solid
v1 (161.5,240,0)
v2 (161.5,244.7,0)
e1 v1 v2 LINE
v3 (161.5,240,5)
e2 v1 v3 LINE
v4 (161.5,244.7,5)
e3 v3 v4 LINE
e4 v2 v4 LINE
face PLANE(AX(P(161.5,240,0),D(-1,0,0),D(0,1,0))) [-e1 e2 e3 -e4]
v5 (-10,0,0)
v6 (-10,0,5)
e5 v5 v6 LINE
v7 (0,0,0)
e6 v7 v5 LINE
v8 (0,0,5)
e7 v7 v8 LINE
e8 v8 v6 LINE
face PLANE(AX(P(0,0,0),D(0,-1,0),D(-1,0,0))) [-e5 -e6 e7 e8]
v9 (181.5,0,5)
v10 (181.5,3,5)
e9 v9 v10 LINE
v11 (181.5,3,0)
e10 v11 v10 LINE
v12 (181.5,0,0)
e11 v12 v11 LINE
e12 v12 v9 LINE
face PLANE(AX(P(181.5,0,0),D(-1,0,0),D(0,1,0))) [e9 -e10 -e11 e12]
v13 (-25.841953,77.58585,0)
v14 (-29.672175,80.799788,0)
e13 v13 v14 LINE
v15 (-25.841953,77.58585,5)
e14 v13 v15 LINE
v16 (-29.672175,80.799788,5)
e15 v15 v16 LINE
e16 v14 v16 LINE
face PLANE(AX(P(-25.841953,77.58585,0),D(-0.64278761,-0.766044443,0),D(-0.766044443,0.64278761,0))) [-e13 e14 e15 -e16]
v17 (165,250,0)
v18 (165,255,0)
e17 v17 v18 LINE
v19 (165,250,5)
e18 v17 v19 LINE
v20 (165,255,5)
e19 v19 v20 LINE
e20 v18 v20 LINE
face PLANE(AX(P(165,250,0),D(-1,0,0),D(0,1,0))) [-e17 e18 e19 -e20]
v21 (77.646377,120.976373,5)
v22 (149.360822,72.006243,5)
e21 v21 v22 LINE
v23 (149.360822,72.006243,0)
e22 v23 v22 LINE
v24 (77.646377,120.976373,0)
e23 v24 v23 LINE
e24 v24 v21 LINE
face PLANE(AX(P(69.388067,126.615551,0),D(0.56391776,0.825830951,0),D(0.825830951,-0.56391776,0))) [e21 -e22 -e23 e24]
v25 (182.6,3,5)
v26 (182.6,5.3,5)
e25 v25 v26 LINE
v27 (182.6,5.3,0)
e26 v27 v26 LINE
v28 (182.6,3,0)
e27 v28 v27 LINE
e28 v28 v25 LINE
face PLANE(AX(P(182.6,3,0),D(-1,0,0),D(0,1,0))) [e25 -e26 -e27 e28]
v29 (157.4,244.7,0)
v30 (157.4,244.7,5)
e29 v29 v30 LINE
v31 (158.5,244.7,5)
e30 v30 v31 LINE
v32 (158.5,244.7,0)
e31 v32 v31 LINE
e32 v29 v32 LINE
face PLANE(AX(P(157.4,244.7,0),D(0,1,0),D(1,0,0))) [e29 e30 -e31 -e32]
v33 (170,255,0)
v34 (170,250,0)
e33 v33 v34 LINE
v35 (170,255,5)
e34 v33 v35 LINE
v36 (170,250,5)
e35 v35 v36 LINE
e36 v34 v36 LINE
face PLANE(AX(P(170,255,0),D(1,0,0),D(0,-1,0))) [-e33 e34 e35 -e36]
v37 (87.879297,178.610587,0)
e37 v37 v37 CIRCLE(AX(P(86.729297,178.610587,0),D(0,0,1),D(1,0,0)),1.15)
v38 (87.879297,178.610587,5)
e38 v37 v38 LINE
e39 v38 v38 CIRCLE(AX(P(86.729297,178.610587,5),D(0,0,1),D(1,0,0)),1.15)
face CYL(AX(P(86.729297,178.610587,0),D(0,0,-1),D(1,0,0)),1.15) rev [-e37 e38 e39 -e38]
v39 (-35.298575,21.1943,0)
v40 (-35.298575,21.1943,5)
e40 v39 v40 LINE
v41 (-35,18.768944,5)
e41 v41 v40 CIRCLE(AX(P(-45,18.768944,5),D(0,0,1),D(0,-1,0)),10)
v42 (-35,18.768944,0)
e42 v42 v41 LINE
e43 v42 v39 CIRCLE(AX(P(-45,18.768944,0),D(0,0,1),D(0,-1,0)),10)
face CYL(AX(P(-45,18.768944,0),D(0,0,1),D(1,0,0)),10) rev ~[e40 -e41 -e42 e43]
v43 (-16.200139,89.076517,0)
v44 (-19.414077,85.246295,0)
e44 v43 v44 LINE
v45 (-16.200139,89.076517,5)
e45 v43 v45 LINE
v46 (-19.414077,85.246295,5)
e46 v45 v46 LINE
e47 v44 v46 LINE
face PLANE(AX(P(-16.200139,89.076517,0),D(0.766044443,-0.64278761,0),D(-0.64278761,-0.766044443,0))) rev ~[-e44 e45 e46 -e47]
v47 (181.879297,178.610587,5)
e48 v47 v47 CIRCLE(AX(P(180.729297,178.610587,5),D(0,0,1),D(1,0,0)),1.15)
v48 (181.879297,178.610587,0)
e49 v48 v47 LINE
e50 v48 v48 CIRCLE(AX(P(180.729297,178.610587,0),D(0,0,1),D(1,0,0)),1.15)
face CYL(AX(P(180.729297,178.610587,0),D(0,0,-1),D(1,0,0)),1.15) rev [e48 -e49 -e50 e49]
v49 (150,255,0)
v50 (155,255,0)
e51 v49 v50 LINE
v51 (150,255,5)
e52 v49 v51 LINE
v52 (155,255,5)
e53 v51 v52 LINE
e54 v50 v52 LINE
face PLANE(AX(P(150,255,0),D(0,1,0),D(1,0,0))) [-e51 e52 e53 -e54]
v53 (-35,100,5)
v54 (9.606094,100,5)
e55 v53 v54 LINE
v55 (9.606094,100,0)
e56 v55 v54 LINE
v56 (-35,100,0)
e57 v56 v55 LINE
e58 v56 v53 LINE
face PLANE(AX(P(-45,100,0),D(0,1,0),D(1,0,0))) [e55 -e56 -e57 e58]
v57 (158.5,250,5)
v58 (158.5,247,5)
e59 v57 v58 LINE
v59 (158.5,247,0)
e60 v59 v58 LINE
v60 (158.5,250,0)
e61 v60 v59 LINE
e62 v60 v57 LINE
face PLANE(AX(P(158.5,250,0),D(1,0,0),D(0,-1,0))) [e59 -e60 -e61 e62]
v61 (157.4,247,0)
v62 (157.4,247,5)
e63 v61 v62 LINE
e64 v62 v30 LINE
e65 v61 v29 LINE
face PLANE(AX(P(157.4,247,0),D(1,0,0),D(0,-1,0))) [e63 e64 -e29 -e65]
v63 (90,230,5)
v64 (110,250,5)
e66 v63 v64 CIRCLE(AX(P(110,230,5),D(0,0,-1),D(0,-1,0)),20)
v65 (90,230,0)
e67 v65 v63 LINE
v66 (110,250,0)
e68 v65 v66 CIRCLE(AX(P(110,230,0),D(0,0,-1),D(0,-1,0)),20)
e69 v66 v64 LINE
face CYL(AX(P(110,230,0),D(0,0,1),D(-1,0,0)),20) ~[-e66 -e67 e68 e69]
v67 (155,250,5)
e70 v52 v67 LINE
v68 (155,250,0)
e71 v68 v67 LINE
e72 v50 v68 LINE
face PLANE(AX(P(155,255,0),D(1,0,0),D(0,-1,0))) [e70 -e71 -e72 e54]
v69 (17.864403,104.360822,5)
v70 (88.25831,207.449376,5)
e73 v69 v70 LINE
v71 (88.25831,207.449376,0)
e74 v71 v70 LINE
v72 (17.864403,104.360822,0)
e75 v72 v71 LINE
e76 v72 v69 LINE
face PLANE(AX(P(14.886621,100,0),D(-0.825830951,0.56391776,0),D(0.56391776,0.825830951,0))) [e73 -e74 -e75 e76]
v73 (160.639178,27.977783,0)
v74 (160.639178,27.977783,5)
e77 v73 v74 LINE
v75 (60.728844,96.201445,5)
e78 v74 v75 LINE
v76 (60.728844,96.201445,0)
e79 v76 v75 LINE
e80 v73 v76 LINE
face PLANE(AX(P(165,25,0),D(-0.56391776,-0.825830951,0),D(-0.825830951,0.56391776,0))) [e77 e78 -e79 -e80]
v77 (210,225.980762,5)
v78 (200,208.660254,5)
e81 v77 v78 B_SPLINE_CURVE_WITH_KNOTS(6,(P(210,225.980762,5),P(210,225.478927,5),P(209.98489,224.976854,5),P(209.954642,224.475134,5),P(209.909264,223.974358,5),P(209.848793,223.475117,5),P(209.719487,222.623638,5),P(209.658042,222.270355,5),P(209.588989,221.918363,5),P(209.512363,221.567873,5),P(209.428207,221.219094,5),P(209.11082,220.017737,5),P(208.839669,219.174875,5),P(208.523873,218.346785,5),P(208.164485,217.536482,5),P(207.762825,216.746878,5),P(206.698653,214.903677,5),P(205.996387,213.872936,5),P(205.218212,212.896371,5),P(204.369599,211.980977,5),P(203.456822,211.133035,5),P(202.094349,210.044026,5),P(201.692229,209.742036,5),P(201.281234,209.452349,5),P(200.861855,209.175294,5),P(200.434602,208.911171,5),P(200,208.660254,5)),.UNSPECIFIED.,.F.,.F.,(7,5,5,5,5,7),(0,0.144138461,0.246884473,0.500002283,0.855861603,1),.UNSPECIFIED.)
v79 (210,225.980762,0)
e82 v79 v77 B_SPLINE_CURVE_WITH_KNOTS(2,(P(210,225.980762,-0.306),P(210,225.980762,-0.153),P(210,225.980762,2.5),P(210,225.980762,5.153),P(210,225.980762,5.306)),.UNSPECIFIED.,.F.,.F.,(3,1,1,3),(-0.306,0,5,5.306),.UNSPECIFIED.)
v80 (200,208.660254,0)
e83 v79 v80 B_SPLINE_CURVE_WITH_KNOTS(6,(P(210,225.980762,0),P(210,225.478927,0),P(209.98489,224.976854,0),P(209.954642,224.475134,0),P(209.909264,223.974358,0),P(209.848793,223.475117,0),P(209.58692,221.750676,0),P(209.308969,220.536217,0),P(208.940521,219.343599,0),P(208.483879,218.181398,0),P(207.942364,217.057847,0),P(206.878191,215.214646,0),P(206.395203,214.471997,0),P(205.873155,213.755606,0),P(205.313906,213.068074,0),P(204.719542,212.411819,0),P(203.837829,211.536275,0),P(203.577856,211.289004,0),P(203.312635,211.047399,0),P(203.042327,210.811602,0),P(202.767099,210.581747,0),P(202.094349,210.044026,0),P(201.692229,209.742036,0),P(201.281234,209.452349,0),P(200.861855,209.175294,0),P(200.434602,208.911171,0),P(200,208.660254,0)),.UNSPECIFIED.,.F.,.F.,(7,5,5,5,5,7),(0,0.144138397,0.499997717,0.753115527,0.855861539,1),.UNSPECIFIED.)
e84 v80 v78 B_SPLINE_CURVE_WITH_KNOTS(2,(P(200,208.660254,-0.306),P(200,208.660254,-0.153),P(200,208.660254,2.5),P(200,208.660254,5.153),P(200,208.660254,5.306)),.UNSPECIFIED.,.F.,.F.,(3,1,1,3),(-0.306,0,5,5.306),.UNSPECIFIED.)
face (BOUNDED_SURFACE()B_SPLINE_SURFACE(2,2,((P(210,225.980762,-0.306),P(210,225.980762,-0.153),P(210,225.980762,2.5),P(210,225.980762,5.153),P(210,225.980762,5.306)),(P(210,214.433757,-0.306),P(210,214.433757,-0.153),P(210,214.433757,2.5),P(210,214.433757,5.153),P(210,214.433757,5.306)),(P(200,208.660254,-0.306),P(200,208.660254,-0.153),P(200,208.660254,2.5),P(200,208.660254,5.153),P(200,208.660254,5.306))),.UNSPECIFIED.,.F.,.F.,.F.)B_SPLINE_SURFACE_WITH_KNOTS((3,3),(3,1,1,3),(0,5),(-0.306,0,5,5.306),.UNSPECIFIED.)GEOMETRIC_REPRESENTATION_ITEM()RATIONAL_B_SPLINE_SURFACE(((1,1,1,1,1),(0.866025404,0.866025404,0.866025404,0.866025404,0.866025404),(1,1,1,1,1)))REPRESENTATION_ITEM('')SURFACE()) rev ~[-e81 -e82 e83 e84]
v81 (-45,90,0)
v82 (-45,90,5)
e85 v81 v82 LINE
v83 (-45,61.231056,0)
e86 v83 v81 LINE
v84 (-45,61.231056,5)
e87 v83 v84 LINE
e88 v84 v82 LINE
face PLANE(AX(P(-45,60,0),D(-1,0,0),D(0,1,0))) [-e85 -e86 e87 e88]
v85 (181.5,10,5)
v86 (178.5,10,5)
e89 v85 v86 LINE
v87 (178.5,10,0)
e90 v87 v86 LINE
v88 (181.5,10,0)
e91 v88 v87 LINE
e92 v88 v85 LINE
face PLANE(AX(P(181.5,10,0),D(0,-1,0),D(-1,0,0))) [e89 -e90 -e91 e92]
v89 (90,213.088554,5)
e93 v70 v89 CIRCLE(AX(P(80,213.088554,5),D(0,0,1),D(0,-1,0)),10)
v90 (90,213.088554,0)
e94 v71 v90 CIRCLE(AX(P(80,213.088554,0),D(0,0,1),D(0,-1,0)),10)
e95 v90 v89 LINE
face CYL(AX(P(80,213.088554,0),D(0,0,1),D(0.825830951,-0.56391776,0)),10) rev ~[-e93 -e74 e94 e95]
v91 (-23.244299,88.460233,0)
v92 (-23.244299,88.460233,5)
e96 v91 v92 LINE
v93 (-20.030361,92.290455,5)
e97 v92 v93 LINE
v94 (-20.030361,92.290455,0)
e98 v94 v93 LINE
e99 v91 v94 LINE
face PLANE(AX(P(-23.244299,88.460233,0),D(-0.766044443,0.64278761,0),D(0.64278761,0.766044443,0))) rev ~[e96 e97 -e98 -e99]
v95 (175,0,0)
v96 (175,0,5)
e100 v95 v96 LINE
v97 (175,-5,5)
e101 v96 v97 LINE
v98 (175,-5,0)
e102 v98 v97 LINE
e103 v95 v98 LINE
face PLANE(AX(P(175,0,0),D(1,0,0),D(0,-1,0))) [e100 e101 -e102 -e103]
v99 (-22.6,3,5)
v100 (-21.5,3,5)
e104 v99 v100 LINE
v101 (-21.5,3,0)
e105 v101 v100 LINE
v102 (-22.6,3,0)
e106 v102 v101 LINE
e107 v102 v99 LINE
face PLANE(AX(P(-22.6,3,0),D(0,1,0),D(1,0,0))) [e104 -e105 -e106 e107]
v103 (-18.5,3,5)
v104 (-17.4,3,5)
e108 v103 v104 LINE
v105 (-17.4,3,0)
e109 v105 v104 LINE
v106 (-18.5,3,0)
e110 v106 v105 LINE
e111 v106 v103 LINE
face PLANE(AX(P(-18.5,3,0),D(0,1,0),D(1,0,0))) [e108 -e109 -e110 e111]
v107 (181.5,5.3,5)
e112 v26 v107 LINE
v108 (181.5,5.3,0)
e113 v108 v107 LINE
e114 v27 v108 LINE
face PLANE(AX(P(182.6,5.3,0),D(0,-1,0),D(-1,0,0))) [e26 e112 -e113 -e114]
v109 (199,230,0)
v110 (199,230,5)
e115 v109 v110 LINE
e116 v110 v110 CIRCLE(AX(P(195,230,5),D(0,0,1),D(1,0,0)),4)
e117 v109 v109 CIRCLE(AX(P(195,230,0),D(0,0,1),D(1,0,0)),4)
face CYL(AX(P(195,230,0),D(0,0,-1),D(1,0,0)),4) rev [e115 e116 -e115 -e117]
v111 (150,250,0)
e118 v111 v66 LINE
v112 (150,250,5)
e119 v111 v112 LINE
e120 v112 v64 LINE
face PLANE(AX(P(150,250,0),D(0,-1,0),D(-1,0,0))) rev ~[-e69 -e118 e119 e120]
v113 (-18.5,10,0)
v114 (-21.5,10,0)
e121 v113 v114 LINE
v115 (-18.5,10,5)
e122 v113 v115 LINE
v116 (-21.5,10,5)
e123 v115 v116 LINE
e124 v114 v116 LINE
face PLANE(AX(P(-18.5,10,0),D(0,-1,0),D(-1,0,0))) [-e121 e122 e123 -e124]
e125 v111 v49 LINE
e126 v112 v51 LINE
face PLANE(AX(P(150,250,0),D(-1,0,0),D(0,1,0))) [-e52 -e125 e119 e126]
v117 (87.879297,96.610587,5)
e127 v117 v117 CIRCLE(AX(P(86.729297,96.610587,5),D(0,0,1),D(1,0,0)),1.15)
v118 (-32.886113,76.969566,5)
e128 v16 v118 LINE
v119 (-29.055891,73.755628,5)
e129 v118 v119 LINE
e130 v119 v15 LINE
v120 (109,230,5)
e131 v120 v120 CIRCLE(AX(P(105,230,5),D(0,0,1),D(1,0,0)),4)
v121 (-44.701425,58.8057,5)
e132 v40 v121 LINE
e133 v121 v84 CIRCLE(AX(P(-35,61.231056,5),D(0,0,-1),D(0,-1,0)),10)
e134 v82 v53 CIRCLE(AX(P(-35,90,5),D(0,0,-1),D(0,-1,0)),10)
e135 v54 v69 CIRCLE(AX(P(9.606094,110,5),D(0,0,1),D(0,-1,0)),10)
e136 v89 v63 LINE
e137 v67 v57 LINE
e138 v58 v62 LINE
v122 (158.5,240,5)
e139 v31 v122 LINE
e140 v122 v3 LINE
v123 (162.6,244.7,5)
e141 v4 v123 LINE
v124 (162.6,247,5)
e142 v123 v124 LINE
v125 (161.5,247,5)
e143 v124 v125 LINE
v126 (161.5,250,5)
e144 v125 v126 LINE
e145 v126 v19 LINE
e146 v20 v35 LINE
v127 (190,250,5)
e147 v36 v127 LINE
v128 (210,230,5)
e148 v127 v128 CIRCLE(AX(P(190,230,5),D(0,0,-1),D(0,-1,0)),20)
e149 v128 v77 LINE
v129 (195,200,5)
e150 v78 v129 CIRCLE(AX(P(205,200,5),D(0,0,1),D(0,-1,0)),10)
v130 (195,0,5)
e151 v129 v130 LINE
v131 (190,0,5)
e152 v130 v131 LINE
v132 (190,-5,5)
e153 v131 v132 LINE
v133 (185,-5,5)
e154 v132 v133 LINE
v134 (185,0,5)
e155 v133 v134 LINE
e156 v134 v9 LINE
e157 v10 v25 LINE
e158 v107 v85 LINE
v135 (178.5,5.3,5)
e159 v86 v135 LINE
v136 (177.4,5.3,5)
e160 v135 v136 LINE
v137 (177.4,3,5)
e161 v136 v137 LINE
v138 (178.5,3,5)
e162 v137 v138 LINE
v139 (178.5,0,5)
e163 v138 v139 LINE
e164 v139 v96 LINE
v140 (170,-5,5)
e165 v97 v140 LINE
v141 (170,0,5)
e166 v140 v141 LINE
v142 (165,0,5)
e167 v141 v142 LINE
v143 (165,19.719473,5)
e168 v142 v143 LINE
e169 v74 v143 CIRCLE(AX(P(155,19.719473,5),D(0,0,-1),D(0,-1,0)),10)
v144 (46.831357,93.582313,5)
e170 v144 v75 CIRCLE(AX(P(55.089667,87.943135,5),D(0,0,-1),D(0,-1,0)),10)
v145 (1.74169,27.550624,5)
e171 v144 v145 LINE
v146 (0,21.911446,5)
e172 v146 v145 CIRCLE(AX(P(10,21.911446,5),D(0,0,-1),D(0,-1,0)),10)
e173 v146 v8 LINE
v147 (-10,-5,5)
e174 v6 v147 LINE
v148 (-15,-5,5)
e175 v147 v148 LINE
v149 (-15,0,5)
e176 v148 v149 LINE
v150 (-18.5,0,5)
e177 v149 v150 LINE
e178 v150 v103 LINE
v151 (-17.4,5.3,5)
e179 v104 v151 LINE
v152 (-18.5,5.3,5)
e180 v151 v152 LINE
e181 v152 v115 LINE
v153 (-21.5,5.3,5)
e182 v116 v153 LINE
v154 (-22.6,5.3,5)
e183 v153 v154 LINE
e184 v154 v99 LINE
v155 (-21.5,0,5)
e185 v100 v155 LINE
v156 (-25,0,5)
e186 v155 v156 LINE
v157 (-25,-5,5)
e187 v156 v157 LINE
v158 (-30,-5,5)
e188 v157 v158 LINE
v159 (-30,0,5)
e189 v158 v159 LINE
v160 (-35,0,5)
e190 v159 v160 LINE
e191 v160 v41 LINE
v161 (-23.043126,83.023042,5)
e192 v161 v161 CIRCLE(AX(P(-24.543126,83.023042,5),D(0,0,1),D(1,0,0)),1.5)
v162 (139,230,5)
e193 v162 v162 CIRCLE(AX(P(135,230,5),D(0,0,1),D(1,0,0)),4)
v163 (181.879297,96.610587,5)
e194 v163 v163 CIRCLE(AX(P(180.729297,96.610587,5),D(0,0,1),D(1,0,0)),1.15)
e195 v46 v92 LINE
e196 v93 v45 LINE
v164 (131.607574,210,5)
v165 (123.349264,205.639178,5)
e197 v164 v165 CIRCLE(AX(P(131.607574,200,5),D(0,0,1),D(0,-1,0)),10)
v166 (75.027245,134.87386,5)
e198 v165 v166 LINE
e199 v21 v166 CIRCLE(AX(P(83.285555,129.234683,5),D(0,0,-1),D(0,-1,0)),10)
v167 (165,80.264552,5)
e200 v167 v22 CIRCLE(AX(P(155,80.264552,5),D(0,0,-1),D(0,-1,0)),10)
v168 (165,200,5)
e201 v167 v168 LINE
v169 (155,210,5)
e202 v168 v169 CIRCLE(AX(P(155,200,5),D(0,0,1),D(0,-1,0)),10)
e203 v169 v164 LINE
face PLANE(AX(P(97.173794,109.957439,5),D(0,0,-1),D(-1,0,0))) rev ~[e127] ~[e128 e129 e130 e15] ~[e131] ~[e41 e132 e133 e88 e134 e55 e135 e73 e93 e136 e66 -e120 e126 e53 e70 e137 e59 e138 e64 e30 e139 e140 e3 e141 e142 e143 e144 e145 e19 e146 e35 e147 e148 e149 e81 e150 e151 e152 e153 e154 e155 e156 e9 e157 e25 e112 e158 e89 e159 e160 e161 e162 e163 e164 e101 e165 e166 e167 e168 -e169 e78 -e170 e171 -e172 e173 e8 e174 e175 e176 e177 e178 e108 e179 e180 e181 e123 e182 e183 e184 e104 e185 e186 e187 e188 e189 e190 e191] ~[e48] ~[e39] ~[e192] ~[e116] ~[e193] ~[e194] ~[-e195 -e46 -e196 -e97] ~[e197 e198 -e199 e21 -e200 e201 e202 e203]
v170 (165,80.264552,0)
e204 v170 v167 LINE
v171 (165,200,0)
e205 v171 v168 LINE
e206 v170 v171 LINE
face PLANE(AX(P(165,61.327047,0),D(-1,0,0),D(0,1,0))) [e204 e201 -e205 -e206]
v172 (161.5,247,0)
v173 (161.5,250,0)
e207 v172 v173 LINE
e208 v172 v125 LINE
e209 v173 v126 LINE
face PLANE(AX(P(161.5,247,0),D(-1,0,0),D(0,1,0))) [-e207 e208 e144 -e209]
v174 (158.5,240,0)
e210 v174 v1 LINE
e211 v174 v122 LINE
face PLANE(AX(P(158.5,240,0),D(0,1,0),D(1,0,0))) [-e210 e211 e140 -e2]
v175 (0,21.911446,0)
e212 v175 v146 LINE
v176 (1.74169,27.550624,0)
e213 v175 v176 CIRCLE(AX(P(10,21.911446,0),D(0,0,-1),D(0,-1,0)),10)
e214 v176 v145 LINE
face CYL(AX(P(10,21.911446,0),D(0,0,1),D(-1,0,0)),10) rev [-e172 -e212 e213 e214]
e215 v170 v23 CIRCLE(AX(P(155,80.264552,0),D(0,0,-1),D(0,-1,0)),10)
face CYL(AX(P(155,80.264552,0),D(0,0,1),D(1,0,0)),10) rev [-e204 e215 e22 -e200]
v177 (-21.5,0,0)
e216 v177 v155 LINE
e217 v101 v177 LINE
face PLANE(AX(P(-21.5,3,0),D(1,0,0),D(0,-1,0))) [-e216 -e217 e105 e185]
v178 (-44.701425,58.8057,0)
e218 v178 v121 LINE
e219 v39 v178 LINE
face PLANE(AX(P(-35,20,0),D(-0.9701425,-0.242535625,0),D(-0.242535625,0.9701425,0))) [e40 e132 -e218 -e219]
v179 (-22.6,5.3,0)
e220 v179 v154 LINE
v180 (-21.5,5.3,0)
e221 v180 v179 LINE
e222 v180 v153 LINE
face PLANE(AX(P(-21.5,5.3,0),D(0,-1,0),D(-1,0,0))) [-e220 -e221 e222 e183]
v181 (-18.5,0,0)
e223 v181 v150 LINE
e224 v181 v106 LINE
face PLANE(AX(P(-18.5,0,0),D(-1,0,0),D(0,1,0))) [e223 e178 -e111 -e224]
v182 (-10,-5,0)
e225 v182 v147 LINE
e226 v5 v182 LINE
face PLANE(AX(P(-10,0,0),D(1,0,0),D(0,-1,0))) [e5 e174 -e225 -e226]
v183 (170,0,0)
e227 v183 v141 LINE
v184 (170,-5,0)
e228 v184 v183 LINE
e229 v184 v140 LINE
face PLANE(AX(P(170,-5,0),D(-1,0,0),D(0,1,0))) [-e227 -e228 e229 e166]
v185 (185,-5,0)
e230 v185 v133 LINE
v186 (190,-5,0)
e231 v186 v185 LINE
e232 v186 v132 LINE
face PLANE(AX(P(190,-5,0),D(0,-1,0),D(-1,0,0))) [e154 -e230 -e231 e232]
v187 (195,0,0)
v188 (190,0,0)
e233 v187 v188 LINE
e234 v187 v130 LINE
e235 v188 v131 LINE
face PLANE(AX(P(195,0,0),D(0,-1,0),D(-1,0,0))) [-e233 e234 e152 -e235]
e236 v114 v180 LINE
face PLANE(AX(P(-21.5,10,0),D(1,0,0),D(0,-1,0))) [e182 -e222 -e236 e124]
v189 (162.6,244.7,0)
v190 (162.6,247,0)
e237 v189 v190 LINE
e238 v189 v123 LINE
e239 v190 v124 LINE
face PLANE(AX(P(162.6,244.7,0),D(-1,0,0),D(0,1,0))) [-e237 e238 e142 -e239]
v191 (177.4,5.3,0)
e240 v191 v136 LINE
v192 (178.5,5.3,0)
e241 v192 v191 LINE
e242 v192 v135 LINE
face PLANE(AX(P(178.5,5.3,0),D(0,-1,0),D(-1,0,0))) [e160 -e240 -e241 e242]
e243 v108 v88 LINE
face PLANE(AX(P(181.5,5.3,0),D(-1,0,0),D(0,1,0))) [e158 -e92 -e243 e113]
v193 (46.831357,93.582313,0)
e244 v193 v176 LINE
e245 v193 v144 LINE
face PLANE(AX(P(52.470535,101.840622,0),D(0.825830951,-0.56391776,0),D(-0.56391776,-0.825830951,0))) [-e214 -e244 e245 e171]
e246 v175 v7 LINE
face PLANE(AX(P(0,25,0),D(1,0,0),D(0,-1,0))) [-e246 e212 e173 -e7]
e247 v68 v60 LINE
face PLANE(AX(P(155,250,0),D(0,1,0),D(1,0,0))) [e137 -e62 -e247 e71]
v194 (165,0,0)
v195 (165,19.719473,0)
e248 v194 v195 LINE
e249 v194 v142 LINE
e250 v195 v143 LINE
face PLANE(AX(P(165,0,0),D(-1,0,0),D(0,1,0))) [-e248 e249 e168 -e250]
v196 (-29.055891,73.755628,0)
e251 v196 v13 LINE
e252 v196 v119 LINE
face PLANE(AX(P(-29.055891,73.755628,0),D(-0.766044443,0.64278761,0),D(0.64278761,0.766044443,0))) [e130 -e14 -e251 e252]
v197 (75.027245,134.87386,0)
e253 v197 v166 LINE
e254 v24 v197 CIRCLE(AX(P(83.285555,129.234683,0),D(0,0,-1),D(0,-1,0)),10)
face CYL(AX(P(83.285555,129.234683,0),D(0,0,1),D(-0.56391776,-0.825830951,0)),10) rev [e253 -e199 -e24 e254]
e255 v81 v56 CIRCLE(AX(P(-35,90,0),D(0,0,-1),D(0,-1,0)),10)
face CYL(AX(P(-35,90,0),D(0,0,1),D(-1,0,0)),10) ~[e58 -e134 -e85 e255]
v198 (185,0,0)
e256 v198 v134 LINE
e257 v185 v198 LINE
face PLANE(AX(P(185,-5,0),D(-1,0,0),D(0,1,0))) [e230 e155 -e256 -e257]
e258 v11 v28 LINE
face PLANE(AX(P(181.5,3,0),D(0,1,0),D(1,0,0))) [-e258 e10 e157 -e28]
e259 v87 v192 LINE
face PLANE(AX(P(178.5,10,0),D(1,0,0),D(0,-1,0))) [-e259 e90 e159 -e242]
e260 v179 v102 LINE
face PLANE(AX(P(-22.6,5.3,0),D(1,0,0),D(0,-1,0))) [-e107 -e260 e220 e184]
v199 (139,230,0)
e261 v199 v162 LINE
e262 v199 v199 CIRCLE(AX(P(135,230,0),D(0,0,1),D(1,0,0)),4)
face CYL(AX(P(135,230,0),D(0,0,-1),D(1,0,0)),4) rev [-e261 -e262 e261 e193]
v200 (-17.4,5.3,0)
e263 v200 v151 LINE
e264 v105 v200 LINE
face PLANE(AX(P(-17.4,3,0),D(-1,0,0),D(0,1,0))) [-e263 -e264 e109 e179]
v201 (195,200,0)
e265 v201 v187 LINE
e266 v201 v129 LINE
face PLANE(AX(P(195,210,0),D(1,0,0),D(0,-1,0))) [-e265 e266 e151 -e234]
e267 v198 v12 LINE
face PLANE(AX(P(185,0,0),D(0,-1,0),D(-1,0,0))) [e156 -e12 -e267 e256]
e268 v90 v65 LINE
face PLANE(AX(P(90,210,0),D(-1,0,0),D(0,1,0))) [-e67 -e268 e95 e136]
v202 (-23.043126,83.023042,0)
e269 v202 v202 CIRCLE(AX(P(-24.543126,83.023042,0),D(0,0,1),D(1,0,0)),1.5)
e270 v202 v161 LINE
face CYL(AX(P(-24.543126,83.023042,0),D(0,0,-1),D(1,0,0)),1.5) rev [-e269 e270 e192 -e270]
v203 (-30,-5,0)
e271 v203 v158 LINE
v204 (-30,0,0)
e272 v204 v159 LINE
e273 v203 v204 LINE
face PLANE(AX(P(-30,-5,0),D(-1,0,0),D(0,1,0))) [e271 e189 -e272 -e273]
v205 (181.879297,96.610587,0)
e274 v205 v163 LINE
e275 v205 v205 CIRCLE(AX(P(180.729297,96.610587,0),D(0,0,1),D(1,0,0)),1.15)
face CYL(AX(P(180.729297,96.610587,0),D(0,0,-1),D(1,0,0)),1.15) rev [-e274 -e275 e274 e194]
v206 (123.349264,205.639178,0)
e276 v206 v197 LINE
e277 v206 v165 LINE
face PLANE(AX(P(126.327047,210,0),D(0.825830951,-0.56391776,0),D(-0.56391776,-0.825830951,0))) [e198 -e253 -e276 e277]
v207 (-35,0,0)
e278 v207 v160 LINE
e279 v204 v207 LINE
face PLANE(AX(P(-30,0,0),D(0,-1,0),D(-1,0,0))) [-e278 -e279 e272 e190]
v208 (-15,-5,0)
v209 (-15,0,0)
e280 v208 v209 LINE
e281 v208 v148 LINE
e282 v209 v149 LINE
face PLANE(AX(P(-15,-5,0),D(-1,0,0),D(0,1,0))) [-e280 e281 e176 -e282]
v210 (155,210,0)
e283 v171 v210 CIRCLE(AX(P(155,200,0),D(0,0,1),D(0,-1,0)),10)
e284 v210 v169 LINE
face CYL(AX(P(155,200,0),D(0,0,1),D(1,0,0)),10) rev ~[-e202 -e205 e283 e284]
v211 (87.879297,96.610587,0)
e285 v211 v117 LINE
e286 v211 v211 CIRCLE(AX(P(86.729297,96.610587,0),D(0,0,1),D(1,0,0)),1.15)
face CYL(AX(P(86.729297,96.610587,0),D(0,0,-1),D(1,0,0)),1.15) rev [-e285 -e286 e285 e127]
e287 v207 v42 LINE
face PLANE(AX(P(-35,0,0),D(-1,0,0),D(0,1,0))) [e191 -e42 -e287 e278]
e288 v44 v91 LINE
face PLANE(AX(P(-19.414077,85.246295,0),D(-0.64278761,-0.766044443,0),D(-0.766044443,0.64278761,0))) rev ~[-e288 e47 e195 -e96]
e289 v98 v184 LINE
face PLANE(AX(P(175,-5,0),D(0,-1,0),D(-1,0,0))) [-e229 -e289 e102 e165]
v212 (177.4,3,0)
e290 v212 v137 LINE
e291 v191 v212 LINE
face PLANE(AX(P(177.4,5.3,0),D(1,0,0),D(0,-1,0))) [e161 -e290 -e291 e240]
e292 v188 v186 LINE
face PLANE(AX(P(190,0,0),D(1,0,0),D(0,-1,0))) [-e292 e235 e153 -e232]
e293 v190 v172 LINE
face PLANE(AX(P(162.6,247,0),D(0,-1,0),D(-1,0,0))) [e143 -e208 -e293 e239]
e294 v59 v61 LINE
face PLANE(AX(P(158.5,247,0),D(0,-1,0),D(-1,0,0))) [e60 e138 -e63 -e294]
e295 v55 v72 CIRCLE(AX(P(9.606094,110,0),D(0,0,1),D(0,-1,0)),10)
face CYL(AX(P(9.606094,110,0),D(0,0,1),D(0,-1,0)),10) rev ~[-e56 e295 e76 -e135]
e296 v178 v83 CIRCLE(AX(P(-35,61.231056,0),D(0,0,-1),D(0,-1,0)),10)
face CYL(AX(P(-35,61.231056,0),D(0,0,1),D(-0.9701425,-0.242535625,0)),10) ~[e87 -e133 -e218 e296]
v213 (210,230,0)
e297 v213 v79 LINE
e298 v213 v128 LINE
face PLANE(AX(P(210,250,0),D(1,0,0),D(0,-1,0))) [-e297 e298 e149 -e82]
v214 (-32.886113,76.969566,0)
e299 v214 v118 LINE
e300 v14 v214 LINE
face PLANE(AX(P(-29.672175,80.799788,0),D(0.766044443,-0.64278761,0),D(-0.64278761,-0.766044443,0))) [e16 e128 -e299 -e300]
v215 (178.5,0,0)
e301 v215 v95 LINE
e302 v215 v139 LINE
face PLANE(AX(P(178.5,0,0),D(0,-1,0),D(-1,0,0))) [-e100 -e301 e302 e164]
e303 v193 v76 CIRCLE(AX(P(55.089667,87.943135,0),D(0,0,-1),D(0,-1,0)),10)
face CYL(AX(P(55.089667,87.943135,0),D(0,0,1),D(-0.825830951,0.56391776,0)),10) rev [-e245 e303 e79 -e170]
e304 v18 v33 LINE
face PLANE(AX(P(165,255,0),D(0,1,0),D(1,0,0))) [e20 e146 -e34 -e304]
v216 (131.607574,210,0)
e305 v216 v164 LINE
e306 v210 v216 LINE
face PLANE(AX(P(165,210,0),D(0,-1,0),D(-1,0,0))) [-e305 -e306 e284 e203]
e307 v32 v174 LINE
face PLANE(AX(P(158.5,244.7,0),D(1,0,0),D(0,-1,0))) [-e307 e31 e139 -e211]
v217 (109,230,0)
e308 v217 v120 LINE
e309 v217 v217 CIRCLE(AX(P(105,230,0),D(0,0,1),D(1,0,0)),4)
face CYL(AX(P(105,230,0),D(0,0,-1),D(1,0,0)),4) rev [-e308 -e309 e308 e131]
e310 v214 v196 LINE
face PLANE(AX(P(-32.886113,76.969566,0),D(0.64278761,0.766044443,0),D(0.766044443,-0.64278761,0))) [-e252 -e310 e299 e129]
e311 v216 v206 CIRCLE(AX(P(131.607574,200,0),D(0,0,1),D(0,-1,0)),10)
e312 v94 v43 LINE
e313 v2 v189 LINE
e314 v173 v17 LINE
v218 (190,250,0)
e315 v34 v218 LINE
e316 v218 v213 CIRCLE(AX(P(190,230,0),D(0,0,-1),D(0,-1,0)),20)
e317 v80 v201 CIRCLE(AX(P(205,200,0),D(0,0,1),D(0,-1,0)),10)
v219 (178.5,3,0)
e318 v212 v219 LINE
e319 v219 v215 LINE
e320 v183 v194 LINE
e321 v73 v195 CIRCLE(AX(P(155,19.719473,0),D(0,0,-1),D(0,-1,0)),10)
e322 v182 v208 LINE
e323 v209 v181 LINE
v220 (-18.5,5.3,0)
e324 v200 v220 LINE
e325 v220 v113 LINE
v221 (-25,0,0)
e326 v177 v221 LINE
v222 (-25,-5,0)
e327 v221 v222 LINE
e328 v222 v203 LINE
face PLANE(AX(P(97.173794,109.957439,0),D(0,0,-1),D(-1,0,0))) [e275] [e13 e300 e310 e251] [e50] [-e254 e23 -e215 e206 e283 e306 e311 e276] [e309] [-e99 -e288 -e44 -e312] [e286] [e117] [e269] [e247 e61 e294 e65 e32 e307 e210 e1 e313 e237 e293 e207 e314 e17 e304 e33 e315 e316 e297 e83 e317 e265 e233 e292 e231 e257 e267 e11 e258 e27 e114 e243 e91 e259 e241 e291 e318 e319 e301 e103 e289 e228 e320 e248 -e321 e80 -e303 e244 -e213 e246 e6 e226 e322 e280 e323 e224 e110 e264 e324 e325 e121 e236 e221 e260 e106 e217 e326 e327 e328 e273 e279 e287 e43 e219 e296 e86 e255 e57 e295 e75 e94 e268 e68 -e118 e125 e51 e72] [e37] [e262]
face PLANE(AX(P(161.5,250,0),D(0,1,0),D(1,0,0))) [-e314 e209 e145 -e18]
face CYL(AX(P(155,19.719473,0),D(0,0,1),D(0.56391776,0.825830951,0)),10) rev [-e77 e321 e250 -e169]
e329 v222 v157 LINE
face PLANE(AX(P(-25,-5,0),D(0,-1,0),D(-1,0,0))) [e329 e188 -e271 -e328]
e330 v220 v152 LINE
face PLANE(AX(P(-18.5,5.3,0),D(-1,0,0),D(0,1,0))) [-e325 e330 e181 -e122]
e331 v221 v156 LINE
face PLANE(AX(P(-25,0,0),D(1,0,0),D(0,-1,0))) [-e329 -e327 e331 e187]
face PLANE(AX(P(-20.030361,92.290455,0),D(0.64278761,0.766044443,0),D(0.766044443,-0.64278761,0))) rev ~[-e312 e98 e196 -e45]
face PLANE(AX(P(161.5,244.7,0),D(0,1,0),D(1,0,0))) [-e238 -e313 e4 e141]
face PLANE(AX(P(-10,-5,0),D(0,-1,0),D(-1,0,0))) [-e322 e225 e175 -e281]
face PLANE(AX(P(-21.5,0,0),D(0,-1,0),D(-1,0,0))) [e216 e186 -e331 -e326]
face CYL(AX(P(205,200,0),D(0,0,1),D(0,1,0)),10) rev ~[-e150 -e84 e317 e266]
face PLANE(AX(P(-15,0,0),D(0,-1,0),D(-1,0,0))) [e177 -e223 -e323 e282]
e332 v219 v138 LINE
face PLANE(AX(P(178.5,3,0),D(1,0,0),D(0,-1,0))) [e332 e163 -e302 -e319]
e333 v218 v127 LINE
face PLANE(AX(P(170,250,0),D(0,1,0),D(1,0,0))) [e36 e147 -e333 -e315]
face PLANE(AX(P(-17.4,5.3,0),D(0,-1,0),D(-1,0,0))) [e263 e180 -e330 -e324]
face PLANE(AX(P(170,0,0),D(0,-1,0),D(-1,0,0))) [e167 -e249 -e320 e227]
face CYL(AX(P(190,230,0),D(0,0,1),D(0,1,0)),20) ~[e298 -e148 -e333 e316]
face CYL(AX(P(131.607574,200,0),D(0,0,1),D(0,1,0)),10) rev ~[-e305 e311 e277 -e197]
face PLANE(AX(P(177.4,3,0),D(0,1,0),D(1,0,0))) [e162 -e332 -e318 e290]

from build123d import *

# Parameters (mm, degrees)
ESQUISSE1_R        = 4
ESQUISSE1_R_2      = 1.15
ESQUISSE1_R_3      = 1.5
BOSS_EXTRU_1_DEPTH = 5
CONG_1_R           = 10
CONG_2_R           = 20


with BuildPart() as part:
    # Esquisse1 → Boss.-Extru.1 (new body)
    with BuildSketch(Plane.XY):
        Polygon((-21.5, 0), (-25, 0), (-25, -5), (-30, -5), (-30, 0), (-35, 0), (-35, 20), (-45, 60), (-45, 100), (14.886620542, 100), (90, 210), (90, 250), (117.313956166, 250), (150, 250), (150, 255), (155, 255), (155, 250), (158.5, 250), (158.5, 247), (157.4, 247), (157.4, 244.7), (158.5, 244.7), (158.5, 240), (161.5, 240), (161.5, 244.7), (162.6, 244.7), (162.6, 247), (161.5, 247), (161.5, 250), (165, 250), (165, 255), (170, 255), (170, 250), (210, 250), (210, 210), (195, 210), (195, 0), (190, 0), (190, -5), (185, -5), (185, 0), (181.5, 0), (181.5, 3), (182.6, 3), (182.6, 5.3), (181.5, 5.3), (181.5, 10), (178.5, 10), (178.5, 5.3), (177.4, 5.3), (177.4, 3), (178.5, 3), (178.5, 0), (175, 0), (175, -5), (170, -5), (170, 0), (165, 0), (165, 25), (52.470534613, 101.840622125), (0, 25), (0, 0), (-10, 0), (-10, -5), (-15, -5), (-15, 0), (-18.5, 0), (-18.5, 3), (-17.4, 3), (-17.4, 5.3), (-18.5, 5.3), (-18.5, 10), (-21.5, 10), (-21.5, 5.3), (-22.6, 5.3), (-22.6, 3), (-21.5, 3), align=None)
        with Locations((135, 230)):
            Circle(ESQUISSE1_R, mode=Mode.SUBTRACT)
        with Locations((195, 230)):
            Circle(ESQUISSE1_R, mode=Mode.SUBTRACT)
        with Locations((105, 230)):
            Circle(ESQUISSE1_R, mode=Mode.SUBTRACT)
        with Locations((86.729297438, 178.610587107)):
            Circle(ESQUISSE1_R_2, mode=Mode.SUBTRACT)
        with Locations((180.729297438, 96.610587107)):
            Circle(ESQUISSE1_R_2, mode=Mode.SUBTRACT)
        with Locations((86.729297438, 96.610587107)):
            Circle(ESQUISSE1_R_2, mode=Mode.SUBTRACT)
        with Locations((180.729297438, 178.610587107)):
            Circle(ESQUISSE1_R_2, mode=Mode.SUBTRACT)
        with Locations((-24.543125869, 83.023041686)):
            Circle(ESQUISSE1_R_3, mode=Mode.SUBTRACT)
        Polygon((165, 210), (126.32704727, 210), (69.388067414, 126.61555066), (165, 61.32704727), align=None, mode=Mode.SUBTRACT)
        Polygon((-29.672175025, 80.799788495), (-32.886113073, 76.969566279), (-29.055890858, 73.755628231), (-25.841952809, 77.585850447), align=None, mode=Mode.SUBTRACT)
        Polygon((-23.244298928, 88.460232926), (-20.03036088, 92.290455142), (-16.200138664, 89.076517093), (-19.414076712, 85.246294878), align=None, mode=Mode.SUBTRACT)
    extrude(amount=BOSS_EXTRU_1_DEPTH)

    # Congé1
    cong_1_edges = [part.edges().sort_by_distance(p)[0] for p in [
        (-35, 20, 2.5),
        (-45, 60, 2.5),
        (-45, 100, 2.5),
        (14.886620542, 100, 2.5),
        (90, 210, 2.5),
        (195, 210, 2.5),
        (165, 25, 2.5),
        (52.470534613, 101.840622125, 2.5),
        (0, 25, 2.5),
        (126.32704727, 210, 2.5),
        (69.388067414, 126.61555066, 2.5),
        (165, 61.32704727, 2.5),
        (165, 210, 2.5),
    ]]
    fillet(cong_1_edges, radius=CONG_1_R)

    # Congé2
    cong_2_edges = [part.edges().sort_by_distance(p)[0] for p in [
        (90, 250, 2.5),
        (210, 250, 2.5),
        (210, 210, 2.5),
    ]]
    fillet(cong_2_edges, radius=CONG_2_R)


solid = part.part
